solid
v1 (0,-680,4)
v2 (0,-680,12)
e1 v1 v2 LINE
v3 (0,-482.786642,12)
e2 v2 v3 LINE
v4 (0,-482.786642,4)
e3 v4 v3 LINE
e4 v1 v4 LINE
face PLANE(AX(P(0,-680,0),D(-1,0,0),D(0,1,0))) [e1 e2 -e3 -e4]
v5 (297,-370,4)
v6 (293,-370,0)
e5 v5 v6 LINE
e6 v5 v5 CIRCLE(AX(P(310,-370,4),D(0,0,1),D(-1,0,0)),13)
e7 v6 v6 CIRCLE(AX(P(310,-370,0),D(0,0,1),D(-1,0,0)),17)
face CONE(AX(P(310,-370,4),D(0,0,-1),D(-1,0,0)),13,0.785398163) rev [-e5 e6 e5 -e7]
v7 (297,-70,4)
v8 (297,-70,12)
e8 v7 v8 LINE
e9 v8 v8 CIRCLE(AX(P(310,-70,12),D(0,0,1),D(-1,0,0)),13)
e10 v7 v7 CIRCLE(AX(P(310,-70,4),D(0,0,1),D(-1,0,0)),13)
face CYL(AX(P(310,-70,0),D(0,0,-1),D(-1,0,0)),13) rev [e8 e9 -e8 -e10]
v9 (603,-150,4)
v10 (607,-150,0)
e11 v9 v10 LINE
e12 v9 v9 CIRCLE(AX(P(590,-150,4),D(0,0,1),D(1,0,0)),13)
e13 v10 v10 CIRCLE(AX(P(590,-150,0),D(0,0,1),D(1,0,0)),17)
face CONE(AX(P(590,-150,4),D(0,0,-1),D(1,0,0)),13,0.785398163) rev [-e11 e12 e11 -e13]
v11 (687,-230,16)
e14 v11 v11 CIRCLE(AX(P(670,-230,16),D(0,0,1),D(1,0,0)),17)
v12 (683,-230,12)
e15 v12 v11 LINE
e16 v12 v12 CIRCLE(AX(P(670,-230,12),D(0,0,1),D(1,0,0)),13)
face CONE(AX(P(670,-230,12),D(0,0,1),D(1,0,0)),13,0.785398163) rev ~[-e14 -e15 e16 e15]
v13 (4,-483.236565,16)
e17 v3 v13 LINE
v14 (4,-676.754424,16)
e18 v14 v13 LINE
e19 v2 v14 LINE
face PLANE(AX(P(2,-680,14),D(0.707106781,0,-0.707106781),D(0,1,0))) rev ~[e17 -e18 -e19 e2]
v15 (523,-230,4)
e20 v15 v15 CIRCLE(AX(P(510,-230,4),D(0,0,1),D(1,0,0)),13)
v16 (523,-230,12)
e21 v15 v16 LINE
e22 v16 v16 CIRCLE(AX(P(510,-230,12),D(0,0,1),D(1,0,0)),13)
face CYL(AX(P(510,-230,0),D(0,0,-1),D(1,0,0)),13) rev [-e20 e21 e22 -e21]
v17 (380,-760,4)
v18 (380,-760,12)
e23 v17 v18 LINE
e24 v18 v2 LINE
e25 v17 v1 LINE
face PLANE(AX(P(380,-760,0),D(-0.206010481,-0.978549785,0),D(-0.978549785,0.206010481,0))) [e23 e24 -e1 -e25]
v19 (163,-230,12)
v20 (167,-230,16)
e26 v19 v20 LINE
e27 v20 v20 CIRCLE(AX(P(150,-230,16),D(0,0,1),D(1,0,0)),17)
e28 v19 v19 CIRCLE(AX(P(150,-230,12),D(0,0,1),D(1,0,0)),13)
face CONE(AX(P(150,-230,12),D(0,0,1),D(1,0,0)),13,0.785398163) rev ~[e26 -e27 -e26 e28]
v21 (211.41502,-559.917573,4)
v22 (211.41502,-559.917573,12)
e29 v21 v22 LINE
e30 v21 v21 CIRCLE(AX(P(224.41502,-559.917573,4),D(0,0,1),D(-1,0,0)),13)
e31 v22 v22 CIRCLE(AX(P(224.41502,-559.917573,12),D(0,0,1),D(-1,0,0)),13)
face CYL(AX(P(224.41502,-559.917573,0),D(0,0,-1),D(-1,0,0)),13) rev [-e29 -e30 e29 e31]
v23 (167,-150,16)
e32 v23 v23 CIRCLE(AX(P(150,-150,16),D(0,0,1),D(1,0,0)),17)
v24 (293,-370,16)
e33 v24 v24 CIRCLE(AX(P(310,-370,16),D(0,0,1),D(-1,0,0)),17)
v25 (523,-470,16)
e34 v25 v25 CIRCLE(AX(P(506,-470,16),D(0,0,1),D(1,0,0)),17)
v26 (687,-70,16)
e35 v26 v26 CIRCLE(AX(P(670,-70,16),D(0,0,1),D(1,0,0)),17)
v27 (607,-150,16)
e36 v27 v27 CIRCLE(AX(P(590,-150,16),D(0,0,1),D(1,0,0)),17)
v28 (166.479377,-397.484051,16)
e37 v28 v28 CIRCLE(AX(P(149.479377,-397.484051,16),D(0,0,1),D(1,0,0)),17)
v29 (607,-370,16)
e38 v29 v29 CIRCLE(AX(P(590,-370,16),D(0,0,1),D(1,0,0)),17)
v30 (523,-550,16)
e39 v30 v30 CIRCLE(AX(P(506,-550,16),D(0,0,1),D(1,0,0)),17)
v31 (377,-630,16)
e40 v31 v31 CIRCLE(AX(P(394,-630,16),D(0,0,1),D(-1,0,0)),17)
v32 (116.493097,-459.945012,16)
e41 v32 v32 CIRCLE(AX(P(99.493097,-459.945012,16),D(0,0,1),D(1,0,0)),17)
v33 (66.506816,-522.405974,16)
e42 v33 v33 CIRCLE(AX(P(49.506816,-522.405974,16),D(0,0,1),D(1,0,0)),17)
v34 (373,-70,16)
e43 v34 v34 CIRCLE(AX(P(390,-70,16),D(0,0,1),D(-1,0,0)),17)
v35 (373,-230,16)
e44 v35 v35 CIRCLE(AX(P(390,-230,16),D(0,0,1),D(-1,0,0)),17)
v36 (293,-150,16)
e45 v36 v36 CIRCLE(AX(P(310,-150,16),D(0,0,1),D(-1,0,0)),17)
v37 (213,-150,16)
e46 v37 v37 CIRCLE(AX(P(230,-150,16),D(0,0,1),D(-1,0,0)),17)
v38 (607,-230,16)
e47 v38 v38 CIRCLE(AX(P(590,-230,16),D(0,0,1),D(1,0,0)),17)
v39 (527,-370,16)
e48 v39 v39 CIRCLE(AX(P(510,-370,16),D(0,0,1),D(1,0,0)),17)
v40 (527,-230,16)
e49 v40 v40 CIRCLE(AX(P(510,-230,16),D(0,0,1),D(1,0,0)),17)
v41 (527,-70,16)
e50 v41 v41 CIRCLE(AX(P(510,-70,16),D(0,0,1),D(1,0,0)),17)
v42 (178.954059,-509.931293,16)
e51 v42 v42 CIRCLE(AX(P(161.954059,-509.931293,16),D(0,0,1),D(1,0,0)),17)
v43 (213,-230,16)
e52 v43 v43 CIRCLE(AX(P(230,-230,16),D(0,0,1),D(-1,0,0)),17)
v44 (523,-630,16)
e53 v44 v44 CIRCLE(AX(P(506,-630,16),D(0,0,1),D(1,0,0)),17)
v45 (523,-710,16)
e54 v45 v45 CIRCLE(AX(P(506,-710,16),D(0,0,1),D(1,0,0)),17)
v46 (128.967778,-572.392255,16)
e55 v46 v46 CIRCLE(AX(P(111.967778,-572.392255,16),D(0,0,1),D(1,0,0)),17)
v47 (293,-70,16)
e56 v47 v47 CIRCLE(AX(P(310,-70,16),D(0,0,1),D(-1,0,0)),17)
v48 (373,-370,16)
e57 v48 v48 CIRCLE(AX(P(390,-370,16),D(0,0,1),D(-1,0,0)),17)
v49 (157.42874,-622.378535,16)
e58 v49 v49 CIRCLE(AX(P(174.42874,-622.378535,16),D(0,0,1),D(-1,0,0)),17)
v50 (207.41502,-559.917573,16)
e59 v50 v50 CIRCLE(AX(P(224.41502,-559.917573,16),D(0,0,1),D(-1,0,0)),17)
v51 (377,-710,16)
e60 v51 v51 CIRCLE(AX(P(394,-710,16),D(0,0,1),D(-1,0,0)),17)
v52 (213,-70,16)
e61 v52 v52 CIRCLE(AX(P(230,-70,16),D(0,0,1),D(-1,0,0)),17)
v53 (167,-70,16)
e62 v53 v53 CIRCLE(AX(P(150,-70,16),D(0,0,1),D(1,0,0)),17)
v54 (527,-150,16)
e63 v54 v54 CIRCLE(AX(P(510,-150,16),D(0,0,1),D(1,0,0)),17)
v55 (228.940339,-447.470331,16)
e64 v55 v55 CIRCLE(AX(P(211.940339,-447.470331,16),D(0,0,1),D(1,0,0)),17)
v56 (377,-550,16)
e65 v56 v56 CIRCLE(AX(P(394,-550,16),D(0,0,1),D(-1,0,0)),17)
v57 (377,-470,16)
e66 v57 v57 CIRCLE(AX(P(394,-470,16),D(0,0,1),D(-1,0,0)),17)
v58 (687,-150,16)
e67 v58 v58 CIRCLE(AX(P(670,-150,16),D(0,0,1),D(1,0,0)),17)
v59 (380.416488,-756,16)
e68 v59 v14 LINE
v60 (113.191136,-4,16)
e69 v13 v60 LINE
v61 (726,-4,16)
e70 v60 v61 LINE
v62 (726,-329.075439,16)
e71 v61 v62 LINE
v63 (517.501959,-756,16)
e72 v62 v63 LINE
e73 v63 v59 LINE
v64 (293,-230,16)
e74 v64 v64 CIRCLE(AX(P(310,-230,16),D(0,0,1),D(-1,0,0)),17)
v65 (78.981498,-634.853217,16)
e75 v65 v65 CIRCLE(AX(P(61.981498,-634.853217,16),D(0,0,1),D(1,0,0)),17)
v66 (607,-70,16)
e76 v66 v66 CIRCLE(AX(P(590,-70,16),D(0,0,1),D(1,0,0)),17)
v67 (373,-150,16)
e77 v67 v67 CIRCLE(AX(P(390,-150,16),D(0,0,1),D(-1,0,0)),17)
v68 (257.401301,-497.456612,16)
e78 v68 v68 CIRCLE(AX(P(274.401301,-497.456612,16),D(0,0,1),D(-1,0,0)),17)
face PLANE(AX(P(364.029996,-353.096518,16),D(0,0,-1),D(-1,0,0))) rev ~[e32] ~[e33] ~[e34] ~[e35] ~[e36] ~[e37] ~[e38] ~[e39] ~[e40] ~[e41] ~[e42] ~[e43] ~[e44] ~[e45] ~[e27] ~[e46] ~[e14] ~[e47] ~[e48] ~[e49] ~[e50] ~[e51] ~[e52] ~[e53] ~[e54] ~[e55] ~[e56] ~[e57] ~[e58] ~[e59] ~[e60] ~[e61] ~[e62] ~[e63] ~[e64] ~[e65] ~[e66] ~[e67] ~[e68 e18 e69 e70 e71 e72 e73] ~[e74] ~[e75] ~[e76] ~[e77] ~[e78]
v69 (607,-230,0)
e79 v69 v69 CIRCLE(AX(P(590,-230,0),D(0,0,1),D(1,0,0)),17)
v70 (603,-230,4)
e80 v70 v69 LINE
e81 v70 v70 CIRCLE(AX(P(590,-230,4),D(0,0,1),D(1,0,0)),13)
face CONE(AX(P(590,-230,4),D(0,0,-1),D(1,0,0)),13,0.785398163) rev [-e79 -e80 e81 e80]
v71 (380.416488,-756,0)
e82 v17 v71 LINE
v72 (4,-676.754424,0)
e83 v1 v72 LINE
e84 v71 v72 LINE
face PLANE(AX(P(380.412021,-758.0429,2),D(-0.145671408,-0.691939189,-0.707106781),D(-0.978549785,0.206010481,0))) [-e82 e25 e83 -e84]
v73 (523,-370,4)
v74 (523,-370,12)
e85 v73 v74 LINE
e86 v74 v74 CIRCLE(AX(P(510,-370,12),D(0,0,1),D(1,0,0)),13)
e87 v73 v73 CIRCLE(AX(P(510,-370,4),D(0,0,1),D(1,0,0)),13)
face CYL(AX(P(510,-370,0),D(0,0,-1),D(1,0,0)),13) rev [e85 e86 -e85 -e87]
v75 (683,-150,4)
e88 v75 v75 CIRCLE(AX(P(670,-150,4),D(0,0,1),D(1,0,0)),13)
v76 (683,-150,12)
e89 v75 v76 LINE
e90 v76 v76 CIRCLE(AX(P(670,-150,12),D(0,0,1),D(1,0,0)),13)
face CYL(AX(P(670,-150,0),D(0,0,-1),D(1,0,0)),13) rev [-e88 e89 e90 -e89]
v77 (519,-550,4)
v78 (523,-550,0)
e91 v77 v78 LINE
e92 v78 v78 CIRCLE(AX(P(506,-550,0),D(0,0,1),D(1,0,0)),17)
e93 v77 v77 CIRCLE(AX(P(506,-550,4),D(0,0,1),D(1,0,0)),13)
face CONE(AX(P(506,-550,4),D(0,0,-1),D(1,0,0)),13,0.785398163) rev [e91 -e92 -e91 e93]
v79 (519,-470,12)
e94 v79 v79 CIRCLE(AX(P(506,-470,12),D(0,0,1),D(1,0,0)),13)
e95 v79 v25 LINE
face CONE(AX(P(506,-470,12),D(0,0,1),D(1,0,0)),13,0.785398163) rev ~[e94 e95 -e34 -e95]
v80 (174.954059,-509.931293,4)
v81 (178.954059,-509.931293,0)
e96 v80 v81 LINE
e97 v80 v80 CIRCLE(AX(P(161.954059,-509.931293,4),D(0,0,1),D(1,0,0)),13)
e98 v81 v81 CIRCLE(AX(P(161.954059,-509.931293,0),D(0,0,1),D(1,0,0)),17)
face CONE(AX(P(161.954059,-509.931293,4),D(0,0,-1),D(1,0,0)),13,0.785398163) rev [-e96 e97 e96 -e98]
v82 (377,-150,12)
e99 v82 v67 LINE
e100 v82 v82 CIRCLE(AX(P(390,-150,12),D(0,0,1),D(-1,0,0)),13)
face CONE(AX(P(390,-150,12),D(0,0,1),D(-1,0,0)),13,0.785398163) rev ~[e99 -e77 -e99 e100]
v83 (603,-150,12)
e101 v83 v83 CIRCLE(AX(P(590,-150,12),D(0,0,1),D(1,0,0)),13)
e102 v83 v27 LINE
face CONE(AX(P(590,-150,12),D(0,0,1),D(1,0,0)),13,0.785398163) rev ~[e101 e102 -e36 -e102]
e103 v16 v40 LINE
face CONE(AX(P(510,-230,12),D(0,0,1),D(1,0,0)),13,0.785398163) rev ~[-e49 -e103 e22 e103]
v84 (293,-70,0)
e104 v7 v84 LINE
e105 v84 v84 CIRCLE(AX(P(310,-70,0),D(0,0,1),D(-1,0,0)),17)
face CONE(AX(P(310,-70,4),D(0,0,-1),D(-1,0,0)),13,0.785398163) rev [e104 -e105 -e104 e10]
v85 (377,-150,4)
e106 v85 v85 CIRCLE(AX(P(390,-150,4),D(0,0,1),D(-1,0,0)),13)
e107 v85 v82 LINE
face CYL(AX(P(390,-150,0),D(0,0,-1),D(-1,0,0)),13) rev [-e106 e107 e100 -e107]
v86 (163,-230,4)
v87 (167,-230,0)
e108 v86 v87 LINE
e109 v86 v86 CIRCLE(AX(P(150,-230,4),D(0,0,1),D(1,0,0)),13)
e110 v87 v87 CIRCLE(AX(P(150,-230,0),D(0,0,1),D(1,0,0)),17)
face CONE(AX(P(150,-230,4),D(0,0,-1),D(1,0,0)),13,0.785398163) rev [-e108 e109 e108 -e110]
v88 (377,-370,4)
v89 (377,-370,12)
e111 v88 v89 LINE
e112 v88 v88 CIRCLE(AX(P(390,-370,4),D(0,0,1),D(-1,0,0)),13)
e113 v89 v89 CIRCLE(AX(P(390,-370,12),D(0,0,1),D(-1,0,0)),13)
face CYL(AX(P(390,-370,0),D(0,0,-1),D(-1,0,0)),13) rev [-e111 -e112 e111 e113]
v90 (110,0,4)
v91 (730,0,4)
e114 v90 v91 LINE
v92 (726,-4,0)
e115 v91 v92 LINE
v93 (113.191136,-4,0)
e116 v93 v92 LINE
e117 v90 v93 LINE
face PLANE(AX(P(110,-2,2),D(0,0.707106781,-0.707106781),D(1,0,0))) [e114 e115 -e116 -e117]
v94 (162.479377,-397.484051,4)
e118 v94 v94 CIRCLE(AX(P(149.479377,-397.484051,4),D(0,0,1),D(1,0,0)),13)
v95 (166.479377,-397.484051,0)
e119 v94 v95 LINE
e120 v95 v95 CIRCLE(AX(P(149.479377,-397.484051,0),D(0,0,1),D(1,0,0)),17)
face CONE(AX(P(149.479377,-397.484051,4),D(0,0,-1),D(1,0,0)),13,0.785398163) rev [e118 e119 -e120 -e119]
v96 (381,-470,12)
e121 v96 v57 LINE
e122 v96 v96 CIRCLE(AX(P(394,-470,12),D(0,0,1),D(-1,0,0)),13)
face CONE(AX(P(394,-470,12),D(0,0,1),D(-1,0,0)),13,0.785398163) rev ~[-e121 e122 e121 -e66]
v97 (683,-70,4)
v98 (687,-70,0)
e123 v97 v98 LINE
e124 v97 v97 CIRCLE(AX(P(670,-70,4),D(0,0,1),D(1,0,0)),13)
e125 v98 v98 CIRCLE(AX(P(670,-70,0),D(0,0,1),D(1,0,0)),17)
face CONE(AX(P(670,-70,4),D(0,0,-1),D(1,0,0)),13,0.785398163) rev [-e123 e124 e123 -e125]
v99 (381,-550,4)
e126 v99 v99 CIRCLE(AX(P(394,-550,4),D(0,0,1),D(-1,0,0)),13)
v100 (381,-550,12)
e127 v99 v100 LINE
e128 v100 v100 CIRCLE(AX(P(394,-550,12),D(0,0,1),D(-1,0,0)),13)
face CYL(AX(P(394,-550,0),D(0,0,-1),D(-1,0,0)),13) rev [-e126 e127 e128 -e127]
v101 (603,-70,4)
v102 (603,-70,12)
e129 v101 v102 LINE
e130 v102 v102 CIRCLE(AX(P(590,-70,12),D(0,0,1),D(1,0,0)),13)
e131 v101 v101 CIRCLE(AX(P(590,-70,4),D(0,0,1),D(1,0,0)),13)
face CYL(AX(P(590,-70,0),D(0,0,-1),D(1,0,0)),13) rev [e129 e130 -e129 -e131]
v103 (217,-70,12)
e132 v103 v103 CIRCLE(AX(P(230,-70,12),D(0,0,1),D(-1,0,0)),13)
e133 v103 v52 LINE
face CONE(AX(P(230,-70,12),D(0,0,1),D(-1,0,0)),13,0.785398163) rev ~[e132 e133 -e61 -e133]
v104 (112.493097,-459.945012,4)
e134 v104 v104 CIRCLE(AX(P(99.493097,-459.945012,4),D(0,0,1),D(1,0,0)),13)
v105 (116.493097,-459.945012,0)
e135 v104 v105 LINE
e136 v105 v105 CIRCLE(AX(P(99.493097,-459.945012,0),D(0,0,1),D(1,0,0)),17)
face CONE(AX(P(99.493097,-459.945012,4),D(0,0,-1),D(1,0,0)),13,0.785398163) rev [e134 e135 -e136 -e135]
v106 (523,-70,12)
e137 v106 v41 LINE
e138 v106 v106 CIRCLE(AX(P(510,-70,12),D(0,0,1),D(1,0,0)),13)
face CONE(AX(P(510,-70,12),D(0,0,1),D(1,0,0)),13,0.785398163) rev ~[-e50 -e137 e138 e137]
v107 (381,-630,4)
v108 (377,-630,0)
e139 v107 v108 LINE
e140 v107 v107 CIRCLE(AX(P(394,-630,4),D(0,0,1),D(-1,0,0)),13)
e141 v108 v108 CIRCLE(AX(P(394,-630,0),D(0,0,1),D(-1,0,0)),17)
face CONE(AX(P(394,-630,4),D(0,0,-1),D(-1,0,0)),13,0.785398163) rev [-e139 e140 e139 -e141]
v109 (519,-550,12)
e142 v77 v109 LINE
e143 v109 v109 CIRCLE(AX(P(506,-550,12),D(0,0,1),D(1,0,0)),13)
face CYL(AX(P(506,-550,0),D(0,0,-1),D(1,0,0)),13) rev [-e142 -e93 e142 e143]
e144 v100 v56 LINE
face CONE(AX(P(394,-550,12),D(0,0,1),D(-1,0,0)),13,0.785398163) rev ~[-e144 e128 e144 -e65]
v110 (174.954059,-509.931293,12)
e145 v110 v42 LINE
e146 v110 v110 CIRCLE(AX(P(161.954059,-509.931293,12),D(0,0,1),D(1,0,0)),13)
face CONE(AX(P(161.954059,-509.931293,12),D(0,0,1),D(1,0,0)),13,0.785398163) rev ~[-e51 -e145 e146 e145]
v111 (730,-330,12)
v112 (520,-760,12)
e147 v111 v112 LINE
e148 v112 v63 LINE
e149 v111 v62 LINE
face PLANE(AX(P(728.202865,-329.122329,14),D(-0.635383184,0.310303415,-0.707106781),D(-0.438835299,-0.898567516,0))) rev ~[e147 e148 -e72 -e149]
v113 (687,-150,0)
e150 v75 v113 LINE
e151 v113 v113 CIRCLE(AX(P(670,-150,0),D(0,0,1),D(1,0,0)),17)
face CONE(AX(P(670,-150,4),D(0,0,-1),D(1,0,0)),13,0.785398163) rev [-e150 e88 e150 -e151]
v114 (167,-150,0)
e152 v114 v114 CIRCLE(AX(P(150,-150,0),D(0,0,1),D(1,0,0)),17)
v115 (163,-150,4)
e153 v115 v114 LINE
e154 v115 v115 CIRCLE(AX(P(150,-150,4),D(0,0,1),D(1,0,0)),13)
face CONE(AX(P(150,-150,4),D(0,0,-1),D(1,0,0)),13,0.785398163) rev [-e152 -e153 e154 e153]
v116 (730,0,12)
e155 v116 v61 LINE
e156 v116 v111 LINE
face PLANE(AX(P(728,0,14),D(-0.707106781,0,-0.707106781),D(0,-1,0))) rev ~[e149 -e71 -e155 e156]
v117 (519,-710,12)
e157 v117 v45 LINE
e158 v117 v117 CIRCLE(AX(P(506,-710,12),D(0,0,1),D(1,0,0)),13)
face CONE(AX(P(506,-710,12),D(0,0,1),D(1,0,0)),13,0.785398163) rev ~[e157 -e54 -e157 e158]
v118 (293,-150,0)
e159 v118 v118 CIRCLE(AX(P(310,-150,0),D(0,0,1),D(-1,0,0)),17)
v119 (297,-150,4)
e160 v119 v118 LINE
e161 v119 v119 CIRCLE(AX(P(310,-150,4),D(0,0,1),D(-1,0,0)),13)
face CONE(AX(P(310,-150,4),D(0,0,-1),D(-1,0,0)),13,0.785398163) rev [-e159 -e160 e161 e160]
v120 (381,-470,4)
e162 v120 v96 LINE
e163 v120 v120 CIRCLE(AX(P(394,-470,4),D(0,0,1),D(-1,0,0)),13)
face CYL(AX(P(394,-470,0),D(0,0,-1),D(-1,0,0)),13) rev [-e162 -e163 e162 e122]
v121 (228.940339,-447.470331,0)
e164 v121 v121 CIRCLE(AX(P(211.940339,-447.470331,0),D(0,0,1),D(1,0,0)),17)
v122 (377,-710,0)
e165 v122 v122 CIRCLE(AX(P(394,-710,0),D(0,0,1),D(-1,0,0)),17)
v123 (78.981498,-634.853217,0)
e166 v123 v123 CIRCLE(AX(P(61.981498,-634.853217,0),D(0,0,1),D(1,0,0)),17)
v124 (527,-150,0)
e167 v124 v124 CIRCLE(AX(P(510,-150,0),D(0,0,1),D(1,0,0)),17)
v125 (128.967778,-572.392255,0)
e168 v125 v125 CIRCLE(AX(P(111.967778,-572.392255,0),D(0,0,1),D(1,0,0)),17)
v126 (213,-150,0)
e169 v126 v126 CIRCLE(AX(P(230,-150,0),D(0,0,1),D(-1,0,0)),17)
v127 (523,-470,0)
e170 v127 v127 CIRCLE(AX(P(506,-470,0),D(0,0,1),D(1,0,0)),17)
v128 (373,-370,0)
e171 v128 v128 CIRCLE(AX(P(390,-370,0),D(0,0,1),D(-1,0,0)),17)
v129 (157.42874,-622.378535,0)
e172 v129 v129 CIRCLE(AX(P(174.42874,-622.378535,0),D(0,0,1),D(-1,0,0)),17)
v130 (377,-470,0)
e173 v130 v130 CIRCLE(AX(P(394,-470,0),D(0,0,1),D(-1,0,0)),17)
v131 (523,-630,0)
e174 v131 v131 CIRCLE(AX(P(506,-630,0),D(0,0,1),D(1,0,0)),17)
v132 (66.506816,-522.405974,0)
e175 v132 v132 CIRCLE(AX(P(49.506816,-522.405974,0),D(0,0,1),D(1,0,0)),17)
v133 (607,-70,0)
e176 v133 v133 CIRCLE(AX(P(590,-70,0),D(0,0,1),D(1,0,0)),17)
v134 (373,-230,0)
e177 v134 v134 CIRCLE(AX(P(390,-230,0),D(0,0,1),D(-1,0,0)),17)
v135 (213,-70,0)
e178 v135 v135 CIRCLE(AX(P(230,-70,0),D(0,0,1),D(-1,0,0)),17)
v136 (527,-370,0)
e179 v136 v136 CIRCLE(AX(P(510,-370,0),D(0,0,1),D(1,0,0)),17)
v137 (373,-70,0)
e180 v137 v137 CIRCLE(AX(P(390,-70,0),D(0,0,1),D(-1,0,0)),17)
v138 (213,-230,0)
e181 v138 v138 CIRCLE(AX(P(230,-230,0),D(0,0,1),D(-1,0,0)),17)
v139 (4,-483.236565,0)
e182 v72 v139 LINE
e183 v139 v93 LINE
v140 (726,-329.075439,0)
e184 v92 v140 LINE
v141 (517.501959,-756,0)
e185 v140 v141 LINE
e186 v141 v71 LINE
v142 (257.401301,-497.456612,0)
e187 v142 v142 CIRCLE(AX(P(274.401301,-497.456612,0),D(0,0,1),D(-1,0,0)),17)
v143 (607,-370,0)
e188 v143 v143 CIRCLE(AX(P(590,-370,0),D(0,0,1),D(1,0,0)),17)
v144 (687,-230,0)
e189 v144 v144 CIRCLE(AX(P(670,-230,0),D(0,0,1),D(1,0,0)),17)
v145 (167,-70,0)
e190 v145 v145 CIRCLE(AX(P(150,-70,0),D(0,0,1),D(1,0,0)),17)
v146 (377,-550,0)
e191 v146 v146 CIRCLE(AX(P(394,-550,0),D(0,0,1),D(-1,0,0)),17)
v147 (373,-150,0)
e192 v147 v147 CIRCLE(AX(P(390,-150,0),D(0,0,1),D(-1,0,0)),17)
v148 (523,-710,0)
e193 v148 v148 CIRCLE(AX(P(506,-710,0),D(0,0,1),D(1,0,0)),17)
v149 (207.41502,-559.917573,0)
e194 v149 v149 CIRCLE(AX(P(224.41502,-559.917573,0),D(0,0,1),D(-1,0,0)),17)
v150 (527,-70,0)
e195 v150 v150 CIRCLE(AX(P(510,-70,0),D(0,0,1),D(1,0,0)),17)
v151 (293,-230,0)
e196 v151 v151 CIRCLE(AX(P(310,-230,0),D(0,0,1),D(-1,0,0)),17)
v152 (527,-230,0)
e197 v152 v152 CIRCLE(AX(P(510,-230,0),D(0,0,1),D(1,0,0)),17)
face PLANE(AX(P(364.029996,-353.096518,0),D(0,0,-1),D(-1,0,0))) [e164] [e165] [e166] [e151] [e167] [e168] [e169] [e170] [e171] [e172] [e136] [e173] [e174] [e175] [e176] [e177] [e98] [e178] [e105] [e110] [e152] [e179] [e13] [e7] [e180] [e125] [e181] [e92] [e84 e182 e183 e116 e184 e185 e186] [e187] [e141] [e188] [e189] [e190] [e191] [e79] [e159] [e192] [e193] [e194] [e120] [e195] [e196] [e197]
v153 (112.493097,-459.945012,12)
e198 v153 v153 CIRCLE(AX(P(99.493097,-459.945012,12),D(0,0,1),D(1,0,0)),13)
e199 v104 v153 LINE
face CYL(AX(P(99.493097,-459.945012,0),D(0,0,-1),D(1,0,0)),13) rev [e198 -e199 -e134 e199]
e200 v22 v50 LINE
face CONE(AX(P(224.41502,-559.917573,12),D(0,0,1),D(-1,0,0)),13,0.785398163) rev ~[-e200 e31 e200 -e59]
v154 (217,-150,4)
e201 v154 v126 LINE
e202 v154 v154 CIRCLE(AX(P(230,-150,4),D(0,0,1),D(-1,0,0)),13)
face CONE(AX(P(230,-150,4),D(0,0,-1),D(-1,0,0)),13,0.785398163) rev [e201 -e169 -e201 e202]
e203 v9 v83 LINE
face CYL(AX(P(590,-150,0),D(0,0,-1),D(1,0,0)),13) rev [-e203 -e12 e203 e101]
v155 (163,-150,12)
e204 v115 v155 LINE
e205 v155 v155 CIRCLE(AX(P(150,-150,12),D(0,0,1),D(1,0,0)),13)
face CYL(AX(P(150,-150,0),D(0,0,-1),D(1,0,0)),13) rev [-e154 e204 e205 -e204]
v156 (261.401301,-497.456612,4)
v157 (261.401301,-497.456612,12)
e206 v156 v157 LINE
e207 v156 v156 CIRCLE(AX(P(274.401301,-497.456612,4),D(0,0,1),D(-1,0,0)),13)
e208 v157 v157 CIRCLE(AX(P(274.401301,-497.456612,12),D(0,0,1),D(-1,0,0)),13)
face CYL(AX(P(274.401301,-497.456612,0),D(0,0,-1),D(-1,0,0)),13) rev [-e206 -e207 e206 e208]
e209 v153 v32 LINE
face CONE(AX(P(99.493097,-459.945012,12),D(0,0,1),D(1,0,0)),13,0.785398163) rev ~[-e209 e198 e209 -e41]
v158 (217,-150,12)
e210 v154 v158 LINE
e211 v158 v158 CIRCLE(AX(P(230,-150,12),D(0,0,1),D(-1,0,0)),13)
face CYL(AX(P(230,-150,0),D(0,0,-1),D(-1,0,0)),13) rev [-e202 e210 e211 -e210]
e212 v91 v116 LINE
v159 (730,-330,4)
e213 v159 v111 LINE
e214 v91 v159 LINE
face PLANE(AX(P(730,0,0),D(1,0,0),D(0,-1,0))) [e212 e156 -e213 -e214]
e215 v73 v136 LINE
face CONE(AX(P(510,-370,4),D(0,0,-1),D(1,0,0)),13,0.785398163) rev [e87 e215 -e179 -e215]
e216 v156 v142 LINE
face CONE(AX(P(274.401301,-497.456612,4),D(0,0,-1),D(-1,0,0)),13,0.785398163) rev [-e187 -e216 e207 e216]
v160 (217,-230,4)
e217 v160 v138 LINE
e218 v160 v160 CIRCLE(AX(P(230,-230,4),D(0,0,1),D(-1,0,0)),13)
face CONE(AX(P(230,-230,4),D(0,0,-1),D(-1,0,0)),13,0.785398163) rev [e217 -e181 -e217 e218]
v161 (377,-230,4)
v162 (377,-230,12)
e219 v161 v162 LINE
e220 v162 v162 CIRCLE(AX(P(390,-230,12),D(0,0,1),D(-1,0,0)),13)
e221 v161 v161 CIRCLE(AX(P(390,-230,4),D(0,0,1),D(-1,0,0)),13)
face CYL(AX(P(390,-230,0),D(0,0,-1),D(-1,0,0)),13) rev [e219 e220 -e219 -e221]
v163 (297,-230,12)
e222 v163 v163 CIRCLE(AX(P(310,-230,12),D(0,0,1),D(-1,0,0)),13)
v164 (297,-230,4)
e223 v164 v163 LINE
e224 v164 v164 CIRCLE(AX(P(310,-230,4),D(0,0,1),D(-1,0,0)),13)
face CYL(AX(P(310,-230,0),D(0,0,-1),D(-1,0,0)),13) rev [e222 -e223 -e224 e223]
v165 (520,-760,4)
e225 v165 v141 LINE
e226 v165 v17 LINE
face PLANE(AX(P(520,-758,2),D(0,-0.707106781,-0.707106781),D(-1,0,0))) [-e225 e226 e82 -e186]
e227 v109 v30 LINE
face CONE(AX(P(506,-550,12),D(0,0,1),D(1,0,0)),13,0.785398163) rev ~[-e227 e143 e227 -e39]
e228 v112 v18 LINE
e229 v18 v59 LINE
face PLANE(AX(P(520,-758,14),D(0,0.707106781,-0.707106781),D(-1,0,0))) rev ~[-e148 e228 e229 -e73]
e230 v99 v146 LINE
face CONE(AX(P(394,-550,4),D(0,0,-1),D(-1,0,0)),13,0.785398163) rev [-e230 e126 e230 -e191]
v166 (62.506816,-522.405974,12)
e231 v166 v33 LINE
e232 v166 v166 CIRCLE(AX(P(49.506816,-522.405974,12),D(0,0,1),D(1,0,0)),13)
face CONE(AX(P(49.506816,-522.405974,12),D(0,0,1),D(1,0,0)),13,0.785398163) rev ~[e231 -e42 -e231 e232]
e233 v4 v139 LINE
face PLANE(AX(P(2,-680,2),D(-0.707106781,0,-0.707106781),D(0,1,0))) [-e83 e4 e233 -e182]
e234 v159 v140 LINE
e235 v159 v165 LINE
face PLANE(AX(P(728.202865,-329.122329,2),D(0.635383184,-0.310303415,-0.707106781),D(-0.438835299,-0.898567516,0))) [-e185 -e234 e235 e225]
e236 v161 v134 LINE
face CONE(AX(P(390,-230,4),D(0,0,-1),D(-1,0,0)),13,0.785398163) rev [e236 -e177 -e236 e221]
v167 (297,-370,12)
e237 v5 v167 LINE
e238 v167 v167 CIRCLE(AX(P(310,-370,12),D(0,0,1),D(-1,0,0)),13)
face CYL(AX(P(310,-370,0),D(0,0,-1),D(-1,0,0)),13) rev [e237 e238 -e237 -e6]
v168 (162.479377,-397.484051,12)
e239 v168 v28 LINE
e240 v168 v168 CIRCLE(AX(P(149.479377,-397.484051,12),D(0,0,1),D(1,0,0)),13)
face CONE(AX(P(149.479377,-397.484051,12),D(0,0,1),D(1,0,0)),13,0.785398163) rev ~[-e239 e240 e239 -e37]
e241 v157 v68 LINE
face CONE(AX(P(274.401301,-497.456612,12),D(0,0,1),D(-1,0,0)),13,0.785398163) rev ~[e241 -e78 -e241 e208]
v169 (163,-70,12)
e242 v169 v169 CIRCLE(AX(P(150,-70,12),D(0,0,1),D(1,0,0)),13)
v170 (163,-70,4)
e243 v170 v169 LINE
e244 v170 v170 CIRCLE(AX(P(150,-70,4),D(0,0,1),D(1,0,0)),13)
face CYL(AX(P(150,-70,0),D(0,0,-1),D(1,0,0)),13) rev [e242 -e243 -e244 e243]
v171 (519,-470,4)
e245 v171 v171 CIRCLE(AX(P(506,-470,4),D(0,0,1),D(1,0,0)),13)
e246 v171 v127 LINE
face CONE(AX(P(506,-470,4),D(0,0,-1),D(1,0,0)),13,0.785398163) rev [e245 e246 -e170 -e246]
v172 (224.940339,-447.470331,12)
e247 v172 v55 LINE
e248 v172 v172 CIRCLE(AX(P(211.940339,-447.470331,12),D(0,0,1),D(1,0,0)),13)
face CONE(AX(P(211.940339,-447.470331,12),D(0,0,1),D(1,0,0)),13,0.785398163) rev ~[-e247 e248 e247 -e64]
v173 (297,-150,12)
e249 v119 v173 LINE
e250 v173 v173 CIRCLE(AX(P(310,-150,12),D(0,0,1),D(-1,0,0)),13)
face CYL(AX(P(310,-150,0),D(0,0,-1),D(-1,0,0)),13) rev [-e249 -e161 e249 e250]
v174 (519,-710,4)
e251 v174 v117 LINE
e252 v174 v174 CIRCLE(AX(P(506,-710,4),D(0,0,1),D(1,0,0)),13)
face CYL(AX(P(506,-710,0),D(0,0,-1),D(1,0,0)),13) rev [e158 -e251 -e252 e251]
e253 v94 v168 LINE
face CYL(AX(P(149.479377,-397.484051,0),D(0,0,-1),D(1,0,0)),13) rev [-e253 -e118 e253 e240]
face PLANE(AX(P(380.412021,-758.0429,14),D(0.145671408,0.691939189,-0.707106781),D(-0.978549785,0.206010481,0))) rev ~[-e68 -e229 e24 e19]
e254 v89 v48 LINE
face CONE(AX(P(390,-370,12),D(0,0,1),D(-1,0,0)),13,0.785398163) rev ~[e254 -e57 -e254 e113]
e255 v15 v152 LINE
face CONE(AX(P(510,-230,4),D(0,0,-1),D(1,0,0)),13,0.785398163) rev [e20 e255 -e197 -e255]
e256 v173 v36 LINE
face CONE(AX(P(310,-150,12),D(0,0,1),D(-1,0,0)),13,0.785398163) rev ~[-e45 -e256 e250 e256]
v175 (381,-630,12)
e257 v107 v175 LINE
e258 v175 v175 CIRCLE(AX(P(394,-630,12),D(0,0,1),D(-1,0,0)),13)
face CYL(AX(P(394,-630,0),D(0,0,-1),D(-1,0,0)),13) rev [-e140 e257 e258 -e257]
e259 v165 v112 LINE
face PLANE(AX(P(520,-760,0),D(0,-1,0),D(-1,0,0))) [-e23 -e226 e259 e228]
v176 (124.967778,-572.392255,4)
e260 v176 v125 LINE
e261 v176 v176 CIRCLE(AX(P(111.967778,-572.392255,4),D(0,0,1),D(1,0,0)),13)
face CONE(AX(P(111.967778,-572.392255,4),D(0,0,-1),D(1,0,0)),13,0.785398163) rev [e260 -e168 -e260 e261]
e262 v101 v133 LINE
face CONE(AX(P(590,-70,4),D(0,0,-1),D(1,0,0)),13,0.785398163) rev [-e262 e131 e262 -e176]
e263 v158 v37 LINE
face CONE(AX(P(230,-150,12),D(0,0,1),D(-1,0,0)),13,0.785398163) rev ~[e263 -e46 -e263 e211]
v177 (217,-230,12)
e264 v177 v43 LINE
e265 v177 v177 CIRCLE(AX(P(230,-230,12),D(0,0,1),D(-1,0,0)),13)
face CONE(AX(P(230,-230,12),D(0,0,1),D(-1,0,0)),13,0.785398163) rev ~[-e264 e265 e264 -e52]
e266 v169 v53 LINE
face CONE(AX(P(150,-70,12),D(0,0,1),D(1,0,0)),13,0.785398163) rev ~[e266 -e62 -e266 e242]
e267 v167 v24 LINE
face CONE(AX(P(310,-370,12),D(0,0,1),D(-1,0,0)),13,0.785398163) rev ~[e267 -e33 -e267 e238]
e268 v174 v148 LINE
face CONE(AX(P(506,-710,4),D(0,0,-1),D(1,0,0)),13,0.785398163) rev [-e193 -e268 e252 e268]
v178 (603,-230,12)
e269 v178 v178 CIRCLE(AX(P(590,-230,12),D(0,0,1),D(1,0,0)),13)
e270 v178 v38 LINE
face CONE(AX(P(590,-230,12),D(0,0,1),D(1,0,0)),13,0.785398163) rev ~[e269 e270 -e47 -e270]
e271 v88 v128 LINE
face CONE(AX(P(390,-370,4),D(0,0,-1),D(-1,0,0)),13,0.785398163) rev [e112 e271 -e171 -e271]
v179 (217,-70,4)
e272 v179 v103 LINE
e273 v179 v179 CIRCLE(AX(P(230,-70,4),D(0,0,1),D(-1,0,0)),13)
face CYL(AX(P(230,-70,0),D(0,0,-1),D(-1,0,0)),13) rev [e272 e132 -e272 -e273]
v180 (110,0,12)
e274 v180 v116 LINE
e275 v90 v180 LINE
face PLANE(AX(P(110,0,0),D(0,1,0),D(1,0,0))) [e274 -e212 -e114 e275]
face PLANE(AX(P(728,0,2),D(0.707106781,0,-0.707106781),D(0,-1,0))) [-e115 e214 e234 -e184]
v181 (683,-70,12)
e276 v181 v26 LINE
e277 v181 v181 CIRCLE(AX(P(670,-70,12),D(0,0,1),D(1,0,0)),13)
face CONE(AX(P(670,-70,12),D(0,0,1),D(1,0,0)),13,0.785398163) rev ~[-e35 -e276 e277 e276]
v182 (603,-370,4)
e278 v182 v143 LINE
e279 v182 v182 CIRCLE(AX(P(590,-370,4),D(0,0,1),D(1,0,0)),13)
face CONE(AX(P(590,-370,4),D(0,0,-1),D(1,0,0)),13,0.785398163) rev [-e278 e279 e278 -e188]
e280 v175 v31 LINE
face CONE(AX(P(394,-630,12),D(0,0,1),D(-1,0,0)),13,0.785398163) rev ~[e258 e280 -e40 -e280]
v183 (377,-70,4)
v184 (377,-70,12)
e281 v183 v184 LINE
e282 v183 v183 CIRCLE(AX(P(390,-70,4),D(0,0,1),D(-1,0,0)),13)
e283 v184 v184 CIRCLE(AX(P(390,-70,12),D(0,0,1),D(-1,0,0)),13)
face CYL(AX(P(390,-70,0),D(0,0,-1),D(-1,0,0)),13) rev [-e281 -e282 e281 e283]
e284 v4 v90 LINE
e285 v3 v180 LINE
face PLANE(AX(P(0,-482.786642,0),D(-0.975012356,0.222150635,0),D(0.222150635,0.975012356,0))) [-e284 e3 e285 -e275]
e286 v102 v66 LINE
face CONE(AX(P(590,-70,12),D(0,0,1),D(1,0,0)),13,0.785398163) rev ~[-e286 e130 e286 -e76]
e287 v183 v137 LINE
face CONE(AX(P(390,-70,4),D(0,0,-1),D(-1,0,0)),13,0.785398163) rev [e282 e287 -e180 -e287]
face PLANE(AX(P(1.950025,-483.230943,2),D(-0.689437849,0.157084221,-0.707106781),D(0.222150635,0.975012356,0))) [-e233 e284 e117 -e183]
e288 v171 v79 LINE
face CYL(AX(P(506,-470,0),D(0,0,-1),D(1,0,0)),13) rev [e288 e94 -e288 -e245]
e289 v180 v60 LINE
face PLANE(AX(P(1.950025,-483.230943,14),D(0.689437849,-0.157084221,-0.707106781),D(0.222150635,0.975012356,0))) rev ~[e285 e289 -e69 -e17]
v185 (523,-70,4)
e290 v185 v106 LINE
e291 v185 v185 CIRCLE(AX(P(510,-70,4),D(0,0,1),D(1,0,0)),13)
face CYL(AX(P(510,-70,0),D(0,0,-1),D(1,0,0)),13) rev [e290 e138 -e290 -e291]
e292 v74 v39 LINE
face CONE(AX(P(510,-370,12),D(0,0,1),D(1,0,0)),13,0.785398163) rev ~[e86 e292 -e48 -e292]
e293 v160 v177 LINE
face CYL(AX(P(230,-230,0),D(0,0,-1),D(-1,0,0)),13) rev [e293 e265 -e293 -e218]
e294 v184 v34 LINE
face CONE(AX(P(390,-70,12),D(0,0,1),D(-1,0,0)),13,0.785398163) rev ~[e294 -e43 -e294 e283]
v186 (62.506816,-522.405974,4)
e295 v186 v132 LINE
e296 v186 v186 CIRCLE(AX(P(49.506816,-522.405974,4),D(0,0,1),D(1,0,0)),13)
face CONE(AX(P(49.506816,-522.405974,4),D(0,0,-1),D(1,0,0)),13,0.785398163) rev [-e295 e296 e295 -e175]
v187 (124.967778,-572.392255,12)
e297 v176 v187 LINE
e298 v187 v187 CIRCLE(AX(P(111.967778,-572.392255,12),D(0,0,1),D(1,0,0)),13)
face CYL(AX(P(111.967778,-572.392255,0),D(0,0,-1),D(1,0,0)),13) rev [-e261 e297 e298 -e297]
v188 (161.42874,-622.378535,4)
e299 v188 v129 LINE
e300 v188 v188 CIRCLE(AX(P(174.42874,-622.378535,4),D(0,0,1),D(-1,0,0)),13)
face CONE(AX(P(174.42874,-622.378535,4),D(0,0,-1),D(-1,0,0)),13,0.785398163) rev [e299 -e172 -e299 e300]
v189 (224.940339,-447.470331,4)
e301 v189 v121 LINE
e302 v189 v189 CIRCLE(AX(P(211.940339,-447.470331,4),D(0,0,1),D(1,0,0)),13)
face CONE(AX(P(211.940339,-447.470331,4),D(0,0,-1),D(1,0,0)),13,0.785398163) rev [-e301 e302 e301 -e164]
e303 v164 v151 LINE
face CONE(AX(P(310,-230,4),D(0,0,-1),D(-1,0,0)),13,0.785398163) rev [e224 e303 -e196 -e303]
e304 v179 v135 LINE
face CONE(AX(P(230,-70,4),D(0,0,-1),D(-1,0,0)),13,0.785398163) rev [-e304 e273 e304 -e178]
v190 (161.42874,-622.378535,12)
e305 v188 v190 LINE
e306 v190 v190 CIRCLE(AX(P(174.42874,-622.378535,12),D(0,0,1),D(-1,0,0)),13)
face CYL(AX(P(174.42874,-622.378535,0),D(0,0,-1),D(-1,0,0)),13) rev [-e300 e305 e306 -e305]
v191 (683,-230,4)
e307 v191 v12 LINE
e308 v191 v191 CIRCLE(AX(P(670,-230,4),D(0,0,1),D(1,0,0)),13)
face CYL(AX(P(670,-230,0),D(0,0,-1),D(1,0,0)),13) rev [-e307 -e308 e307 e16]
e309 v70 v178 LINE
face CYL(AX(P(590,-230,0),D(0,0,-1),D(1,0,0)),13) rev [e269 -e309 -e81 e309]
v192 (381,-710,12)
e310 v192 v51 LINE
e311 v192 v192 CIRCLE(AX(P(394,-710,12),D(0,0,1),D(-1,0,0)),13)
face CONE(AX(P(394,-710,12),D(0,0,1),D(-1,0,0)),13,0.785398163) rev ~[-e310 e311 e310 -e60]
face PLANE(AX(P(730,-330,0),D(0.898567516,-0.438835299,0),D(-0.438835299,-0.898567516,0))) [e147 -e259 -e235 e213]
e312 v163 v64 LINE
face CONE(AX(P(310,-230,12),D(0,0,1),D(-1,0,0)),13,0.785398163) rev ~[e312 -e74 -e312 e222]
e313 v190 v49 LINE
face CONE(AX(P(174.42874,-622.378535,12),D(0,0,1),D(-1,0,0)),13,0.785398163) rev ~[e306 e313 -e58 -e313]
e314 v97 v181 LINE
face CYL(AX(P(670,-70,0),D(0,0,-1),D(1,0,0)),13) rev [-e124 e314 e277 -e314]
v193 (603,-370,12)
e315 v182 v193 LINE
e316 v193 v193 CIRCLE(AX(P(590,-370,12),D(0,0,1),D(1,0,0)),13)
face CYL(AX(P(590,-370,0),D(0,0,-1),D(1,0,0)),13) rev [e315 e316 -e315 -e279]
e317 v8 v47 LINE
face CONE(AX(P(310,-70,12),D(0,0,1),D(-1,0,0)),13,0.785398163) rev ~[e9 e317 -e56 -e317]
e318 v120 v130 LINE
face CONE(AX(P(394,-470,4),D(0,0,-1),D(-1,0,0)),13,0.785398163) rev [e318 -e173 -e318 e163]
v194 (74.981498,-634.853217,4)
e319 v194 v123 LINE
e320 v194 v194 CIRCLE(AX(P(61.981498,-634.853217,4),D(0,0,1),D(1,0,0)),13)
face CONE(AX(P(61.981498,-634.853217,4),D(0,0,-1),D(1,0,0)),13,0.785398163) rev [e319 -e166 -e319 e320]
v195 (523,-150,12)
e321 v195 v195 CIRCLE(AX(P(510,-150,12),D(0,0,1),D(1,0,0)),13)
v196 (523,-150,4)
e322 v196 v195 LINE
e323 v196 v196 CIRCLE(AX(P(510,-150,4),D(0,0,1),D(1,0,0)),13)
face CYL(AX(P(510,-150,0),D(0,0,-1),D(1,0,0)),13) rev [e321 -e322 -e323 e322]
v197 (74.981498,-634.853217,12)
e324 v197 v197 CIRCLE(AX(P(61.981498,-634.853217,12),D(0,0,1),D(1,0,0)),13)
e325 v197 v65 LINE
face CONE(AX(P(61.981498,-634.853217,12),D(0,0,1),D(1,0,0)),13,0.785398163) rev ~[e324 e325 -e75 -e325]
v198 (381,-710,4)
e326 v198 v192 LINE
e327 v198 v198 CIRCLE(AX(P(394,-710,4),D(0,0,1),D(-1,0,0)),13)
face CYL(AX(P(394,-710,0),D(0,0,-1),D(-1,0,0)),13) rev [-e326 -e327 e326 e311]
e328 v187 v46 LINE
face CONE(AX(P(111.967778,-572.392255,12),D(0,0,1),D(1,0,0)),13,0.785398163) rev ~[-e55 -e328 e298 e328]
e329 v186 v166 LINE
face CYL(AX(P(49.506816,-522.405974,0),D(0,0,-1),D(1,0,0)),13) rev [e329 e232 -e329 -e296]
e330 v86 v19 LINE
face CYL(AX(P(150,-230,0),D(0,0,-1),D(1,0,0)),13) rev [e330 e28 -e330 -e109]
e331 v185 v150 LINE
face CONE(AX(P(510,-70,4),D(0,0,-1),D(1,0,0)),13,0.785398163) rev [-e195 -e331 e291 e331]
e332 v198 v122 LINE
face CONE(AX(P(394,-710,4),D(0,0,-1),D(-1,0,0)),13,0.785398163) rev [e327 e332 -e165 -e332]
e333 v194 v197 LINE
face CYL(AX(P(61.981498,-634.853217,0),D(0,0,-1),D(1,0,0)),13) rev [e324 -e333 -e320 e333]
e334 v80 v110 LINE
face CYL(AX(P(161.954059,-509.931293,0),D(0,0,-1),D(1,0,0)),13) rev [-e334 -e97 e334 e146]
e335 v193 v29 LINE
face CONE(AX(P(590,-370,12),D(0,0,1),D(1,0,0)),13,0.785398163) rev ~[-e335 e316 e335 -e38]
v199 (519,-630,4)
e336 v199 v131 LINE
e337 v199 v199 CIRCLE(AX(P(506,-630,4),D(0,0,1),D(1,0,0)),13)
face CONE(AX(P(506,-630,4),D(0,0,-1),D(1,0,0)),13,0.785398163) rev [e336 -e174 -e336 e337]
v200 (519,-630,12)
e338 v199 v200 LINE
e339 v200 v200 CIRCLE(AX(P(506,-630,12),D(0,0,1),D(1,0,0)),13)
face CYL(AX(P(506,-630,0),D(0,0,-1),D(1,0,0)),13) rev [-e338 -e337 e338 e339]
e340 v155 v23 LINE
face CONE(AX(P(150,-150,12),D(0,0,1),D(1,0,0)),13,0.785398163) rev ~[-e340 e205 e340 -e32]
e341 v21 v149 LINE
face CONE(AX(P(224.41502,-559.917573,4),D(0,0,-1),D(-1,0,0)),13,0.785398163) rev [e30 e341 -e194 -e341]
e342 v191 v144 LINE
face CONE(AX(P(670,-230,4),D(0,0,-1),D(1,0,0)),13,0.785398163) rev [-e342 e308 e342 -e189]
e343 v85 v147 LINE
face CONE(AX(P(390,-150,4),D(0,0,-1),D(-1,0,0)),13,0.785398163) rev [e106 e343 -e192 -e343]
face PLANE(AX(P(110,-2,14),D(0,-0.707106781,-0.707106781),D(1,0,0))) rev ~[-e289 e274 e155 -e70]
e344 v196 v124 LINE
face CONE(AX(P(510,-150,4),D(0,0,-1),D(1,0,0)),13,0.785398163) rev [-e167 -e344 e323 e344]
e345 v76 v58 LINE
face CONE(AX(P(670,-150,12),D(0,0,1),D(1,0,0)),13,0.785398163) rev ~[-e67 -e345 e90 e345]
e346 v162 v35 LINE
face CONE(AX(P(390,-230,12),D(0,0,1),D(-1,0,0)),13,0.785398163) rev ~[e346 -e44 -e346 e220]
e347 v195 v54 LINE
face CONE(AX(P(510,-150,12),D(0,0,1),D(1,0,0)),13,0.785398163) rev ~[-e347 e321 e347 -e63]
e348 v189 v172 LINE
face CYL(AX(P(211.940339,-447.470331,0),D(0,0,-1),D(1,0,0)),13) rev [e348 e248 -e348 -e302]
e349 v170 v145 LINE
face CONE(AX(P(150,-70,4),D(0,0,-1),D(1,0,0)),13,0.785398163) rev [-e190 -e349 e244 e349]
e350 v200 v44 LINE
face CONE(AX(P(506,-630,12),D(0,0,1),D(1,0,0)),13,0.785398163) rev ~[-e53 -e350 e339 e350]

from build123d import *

# Parameters (mm, degrees)
SKETCH_1_R         = 13
EXTRUDE_1495_DEPTH = 16
CHAMFER_2_SIZE     = 4


with BuildPart() as part:
    # 草图1 → Extrude 1495 (new body)
    with BuildSketch(Plane.XY):
        Polygon((730, -330), (520, -760), (380, -760), (0, -680), (0, -482.786642105), (110, 0), (730, 0), align=None)
        with Locations((510, -70)):
            Circle(SKETCH_1_R, mode=Mode.SUBTRACT)
        with Locations((590, -70)):
            Circle(SKETCH_1_R, mode=Mode.SUBTRACT)
        with Locations((670, -70)):
            Circle(SKETCH_1_R, mode=Mode.SUBTRACT)
        with Locations((510, -150)):
            Circle(SKETCH_1_R, mode=Mode.SUBTRACT)
        with Locations((590, -150)):
            Circle(SKETCH_1_R, mode=Mode.SUBTRACT)
        with Locations((670, -150)):
            Circle(SKETCH_1_R, mode=Mode.SUBTRACT)
        with Locations((510, -230)):
            Circle(SKETCH_1_R, mode=Mode.SUBTRACT)
        with Locations((590, -230)):
            Circle(SKETCH_1_R, mode=Mode.SUBTRACT)
        with Locations((670, -230)):
            Circle(SKETCH_1_R, mode=Mode.SUBTRACT)
        with Locations(Location((230, -230, 0), (0, 0, 180))):
            Circle(SKETCH_1_R, mode=Mode.SUBTRACT)
        with Locations(Location((310, -230, 0), (0, 0, 180))):
            Circle(SKETCH_1_R, mode=Mode.SUBTRACT)
        with Locations(Location((390, -230, 0), (0, 0, 180))):
            Circle(SKETCH_1_R, mode=Mode.SUBTRACT)
        with Locations(Location((230, -150, 0), (0, 0, 180))):
            Circle(SKETCH_1_R, mode=Mode.SUBTRACT)
        with Locations(Location((310, -150, 0), (0, 0, 180))):
            Circle(SKETCH_1_R, mode=Mode.SUBTRACT)
        with Locations(Location((390, -150, 0), (0, 0, 180))):
            Circle(SKETCH_1_R, mode=Mode.SUBTRACT)
        with Locations(Location((230, -70, 0), (0, 0, 180))):
            Circle(SKETCH_1_R, mode=Mode.SUBTRACT)
        with Locations(Location((310, -70, 0), (0, 0, 180))):
            Circle(SKETCH_1_R, mode=Mode.SUBTRACT)
        with Locations(Location((390, -70, 0), (0, 0, 180))):
            Circle(SKETCH_1_R, mode=Mode.SUBTRACT)
        with Locations((150, -70)):
            Circle(SKETCH_1_R, mode=Mode.SUBTRACT)
        with Locations((150, -150)):
            Circle(SKETCH_1_R, mode=Mode.SUBTRACT)
        with Locations((150, -230)):
            Circle(SKETCH_1_R, mode=Mode.SUBTRACT)
        with Locations((590, -370)):
            Circle(SKETCH_1_R, mode=Mode.SUBTRACT)
        with Locations((510, -370)):
            Circle(SKETCH_1_R, mode=Mode.SUBTRACT)
        with Locations(Location((390, -370, 0), (0, 0, 180))):
            Circle(SKETCH_1_R, mode=Mode.SUBTRACT)
        with Locations(Location((310, -370, 0), (0, 0, 180))):
            Circle(SKETCH_1_R, mode=Mode.SUBTRACT)
        with Locations((506, -470)):
            Circle(SKETCH_1_R, mode=Mode.SUBTRACT)
        with Locations((506, -550)):
            Circle(SKETCH_1_R, mode=Mode.SUBTRACT)
        with Locations((506, -630)):
            Circle(SKETCH_1_R, mode=Mode.SUBTRACT)
        with Locations((506, -710)):
            Circle(SKETCH_1_R, mode=Mode.SUBTRACT)
        with Locations(Location((394, -710, 0), (0, 0, 180))):
            Circle(SKETCH_1_R, mode=Mode.SUBTRACT)
        with Locations(Location((394, -630, 0), (0, 0, 180))):
            Circle(SKETCH_1_R, mode=Mode.SUBTRACT)
        with Locations(Location((394, -550, 0), (0, 0, 180))):
            Circle(SKETCH_1_R, mode=Mode.SUBTRACT)
        with Locations(Location((394, -470, 0), (0, 0, 180))):
            Circle(SKETCH_1_R, mode=Mode.SUBTRACT)
        with Locations((149.479377198, -397.484050539)):
            Circle(SKETCH_1_R, mode=Mode.SUBTRACT)
        with Locations((99.493096694, -459.945012437)):
            Circle(SKETCH_1_R, mode=Mode.SUBTRACT)
        with Locations((49.506816189, -522.405974336)):
            Circle(SKETCH_1_R, mode=Mode.SUBTRACT)
        with Locations((61.981497584, -634.85321674)):
            Circle(SKETCH_1_R, mode=Mode.SUBTRACT)
        with Locations((111.967778088, -572.392254841)):
            Circle(SKETCH_1_R, mode=Mode.SUBTRACT)
        with Locations((161.954058593, -509.931292942)):
            Circle(SKETCH_1_R, mode=Mode.SUBTRACT)
        with Locations((211.940339097, -447.470331043)):
            Circle(SKETCH_1_R, mode=Mode.SUBTRACT)
        with Locations(Location((174.428739987, -622.378535345, 0), (0, 0, 180))):
            Circle(SKETCH_1_R, mode=Mode.SUBTRACT)
        with Locations(Location((224.415020492, -559.917573446, 0), (0, 0, 180))):
            Circle(SKETCH_1_R, mode=Mode.SUBTRACT)
        with Locations(Location((274.401300996, -497.456611548, 0), (0, 0, 180))):
            Circle(SKETCH_1_R, mode=Mode.SUBTRACT)
    extrude(amount=EXTRUDE_1495_DEPTH)

    # 倒角2
    chamfer_2_edges = [part.edges().sort_by_distance(p)[0] for p in [
        (55, -241.393321053, 16),
        (497, -370, 0),
        (497, -370, 16),
        (403, -370, 0),
        (403, -370, 16),
        (323, -370, 0),
        (323, -370, 16),
        (493, -470, 0),
        (493, -470, 16),
        (493, -550, 0),
        (493, -550, 16),
        (493, -630, 0),
        (493, -630, 16),
        (493, -710, 0),
        (493, -710, 16),
        (407, -710, 0),
        (407, -710, 16),
        (0, -581.393321053, 16),
        (407, -630, 0),
        (407, -630, 16),
        (407, -550, 0),
        (407, -550, 16),
        (136.479377198, -397.484050539, 0),
        (136.479377198, -397.484050539, 16),
        (86.493096694, -459.945012437, 0),
        (86.493096694, -459.945012437, 16),
        (36.506816189, -522.405974336, 0),
        (36.506816189, -522.405974336, 16),
        (48.981497584, -634.85321674, 0),
        (48.981497584, -634.85321674, 16),
        (98.967778088, -572.392254841, 0),
        (98.967778088, -572.392254841, 16),
        (148.954058593, -509.931292942, 0),
        (148.954058593, -509.931292942, 16),
        (190, -720, 16),
        (198.940339097, -447.470331043, 0),
        (198.940339097, -447.470331043, 16),
        (187.428739987, -622.378535345, 0),
        (187.428739987, -622.378535345, 16),
        (237.415020492, -559.917573446, 0),
        (237.415020492, -559.917573446, 16),
        (287.401300996, -497.456611548, 0),
        (287.401300996, -497.456611548, 16),
        (407, -470, 0),
        (407, -470, 16),
        (497, -70, 0),
        (497, -70, 16),
        (450, -760, 16),
        (625, -545, 16),
        (577, -70, 0),
        (577, -70, 16),
        (657, -70, 0),
        (657, -70, 16),
        (497, -150, 0),
        (497, -150, 16),
        (577, -150, 0),
        (577, -150, 16),
        (657, -150, 0),
        (657, -150, 16),
        (730, -165, 16),
        (497, -230, 0),
        (497, -230, 16),
        (577, -230, 0),
        (577, -230, 16),
        (657, -230, 0),
        (657, -230, 16),
        (243, -230, 0),
        (243, -230, 16),
        (323, -230, 0),
        (323, -230, 16),
        (403, -230, 0),
        (403, -230, 16),
        (243, -150, 0),
        (243, -150, 16),
        (323, -150, 0),
        (323, -150, 16),
        (625, -545, 0),
        (420, 0, 16),
        (403, -150, 0),
        (403, -150, 16),
        (450, -760, 0),
        (243, -70, 0),
        (243, -70, 16),
        (190, -720, 0),
        (323, -70, 0),
        (323, -70, 16),
        (0, -581.393321053, 0),
        (403, -70, 0),
        (403, -70, 16),
        (55, -241.393321053, 0),
        (137, -70, 0),
        (137, -70, 16),
        (420, 0, 0),
        (137, -150, 0),
        (137, -150, 16),
        (730, -165, 0),
        (137, -230, 0),
        (137, -230, 16),
        (577, -370, 0),
        (577, -370, 16),
    ]]
    chamfer(chamfer_2_edges, length=CHAMFER_2_SIZE)


solid = part.part
